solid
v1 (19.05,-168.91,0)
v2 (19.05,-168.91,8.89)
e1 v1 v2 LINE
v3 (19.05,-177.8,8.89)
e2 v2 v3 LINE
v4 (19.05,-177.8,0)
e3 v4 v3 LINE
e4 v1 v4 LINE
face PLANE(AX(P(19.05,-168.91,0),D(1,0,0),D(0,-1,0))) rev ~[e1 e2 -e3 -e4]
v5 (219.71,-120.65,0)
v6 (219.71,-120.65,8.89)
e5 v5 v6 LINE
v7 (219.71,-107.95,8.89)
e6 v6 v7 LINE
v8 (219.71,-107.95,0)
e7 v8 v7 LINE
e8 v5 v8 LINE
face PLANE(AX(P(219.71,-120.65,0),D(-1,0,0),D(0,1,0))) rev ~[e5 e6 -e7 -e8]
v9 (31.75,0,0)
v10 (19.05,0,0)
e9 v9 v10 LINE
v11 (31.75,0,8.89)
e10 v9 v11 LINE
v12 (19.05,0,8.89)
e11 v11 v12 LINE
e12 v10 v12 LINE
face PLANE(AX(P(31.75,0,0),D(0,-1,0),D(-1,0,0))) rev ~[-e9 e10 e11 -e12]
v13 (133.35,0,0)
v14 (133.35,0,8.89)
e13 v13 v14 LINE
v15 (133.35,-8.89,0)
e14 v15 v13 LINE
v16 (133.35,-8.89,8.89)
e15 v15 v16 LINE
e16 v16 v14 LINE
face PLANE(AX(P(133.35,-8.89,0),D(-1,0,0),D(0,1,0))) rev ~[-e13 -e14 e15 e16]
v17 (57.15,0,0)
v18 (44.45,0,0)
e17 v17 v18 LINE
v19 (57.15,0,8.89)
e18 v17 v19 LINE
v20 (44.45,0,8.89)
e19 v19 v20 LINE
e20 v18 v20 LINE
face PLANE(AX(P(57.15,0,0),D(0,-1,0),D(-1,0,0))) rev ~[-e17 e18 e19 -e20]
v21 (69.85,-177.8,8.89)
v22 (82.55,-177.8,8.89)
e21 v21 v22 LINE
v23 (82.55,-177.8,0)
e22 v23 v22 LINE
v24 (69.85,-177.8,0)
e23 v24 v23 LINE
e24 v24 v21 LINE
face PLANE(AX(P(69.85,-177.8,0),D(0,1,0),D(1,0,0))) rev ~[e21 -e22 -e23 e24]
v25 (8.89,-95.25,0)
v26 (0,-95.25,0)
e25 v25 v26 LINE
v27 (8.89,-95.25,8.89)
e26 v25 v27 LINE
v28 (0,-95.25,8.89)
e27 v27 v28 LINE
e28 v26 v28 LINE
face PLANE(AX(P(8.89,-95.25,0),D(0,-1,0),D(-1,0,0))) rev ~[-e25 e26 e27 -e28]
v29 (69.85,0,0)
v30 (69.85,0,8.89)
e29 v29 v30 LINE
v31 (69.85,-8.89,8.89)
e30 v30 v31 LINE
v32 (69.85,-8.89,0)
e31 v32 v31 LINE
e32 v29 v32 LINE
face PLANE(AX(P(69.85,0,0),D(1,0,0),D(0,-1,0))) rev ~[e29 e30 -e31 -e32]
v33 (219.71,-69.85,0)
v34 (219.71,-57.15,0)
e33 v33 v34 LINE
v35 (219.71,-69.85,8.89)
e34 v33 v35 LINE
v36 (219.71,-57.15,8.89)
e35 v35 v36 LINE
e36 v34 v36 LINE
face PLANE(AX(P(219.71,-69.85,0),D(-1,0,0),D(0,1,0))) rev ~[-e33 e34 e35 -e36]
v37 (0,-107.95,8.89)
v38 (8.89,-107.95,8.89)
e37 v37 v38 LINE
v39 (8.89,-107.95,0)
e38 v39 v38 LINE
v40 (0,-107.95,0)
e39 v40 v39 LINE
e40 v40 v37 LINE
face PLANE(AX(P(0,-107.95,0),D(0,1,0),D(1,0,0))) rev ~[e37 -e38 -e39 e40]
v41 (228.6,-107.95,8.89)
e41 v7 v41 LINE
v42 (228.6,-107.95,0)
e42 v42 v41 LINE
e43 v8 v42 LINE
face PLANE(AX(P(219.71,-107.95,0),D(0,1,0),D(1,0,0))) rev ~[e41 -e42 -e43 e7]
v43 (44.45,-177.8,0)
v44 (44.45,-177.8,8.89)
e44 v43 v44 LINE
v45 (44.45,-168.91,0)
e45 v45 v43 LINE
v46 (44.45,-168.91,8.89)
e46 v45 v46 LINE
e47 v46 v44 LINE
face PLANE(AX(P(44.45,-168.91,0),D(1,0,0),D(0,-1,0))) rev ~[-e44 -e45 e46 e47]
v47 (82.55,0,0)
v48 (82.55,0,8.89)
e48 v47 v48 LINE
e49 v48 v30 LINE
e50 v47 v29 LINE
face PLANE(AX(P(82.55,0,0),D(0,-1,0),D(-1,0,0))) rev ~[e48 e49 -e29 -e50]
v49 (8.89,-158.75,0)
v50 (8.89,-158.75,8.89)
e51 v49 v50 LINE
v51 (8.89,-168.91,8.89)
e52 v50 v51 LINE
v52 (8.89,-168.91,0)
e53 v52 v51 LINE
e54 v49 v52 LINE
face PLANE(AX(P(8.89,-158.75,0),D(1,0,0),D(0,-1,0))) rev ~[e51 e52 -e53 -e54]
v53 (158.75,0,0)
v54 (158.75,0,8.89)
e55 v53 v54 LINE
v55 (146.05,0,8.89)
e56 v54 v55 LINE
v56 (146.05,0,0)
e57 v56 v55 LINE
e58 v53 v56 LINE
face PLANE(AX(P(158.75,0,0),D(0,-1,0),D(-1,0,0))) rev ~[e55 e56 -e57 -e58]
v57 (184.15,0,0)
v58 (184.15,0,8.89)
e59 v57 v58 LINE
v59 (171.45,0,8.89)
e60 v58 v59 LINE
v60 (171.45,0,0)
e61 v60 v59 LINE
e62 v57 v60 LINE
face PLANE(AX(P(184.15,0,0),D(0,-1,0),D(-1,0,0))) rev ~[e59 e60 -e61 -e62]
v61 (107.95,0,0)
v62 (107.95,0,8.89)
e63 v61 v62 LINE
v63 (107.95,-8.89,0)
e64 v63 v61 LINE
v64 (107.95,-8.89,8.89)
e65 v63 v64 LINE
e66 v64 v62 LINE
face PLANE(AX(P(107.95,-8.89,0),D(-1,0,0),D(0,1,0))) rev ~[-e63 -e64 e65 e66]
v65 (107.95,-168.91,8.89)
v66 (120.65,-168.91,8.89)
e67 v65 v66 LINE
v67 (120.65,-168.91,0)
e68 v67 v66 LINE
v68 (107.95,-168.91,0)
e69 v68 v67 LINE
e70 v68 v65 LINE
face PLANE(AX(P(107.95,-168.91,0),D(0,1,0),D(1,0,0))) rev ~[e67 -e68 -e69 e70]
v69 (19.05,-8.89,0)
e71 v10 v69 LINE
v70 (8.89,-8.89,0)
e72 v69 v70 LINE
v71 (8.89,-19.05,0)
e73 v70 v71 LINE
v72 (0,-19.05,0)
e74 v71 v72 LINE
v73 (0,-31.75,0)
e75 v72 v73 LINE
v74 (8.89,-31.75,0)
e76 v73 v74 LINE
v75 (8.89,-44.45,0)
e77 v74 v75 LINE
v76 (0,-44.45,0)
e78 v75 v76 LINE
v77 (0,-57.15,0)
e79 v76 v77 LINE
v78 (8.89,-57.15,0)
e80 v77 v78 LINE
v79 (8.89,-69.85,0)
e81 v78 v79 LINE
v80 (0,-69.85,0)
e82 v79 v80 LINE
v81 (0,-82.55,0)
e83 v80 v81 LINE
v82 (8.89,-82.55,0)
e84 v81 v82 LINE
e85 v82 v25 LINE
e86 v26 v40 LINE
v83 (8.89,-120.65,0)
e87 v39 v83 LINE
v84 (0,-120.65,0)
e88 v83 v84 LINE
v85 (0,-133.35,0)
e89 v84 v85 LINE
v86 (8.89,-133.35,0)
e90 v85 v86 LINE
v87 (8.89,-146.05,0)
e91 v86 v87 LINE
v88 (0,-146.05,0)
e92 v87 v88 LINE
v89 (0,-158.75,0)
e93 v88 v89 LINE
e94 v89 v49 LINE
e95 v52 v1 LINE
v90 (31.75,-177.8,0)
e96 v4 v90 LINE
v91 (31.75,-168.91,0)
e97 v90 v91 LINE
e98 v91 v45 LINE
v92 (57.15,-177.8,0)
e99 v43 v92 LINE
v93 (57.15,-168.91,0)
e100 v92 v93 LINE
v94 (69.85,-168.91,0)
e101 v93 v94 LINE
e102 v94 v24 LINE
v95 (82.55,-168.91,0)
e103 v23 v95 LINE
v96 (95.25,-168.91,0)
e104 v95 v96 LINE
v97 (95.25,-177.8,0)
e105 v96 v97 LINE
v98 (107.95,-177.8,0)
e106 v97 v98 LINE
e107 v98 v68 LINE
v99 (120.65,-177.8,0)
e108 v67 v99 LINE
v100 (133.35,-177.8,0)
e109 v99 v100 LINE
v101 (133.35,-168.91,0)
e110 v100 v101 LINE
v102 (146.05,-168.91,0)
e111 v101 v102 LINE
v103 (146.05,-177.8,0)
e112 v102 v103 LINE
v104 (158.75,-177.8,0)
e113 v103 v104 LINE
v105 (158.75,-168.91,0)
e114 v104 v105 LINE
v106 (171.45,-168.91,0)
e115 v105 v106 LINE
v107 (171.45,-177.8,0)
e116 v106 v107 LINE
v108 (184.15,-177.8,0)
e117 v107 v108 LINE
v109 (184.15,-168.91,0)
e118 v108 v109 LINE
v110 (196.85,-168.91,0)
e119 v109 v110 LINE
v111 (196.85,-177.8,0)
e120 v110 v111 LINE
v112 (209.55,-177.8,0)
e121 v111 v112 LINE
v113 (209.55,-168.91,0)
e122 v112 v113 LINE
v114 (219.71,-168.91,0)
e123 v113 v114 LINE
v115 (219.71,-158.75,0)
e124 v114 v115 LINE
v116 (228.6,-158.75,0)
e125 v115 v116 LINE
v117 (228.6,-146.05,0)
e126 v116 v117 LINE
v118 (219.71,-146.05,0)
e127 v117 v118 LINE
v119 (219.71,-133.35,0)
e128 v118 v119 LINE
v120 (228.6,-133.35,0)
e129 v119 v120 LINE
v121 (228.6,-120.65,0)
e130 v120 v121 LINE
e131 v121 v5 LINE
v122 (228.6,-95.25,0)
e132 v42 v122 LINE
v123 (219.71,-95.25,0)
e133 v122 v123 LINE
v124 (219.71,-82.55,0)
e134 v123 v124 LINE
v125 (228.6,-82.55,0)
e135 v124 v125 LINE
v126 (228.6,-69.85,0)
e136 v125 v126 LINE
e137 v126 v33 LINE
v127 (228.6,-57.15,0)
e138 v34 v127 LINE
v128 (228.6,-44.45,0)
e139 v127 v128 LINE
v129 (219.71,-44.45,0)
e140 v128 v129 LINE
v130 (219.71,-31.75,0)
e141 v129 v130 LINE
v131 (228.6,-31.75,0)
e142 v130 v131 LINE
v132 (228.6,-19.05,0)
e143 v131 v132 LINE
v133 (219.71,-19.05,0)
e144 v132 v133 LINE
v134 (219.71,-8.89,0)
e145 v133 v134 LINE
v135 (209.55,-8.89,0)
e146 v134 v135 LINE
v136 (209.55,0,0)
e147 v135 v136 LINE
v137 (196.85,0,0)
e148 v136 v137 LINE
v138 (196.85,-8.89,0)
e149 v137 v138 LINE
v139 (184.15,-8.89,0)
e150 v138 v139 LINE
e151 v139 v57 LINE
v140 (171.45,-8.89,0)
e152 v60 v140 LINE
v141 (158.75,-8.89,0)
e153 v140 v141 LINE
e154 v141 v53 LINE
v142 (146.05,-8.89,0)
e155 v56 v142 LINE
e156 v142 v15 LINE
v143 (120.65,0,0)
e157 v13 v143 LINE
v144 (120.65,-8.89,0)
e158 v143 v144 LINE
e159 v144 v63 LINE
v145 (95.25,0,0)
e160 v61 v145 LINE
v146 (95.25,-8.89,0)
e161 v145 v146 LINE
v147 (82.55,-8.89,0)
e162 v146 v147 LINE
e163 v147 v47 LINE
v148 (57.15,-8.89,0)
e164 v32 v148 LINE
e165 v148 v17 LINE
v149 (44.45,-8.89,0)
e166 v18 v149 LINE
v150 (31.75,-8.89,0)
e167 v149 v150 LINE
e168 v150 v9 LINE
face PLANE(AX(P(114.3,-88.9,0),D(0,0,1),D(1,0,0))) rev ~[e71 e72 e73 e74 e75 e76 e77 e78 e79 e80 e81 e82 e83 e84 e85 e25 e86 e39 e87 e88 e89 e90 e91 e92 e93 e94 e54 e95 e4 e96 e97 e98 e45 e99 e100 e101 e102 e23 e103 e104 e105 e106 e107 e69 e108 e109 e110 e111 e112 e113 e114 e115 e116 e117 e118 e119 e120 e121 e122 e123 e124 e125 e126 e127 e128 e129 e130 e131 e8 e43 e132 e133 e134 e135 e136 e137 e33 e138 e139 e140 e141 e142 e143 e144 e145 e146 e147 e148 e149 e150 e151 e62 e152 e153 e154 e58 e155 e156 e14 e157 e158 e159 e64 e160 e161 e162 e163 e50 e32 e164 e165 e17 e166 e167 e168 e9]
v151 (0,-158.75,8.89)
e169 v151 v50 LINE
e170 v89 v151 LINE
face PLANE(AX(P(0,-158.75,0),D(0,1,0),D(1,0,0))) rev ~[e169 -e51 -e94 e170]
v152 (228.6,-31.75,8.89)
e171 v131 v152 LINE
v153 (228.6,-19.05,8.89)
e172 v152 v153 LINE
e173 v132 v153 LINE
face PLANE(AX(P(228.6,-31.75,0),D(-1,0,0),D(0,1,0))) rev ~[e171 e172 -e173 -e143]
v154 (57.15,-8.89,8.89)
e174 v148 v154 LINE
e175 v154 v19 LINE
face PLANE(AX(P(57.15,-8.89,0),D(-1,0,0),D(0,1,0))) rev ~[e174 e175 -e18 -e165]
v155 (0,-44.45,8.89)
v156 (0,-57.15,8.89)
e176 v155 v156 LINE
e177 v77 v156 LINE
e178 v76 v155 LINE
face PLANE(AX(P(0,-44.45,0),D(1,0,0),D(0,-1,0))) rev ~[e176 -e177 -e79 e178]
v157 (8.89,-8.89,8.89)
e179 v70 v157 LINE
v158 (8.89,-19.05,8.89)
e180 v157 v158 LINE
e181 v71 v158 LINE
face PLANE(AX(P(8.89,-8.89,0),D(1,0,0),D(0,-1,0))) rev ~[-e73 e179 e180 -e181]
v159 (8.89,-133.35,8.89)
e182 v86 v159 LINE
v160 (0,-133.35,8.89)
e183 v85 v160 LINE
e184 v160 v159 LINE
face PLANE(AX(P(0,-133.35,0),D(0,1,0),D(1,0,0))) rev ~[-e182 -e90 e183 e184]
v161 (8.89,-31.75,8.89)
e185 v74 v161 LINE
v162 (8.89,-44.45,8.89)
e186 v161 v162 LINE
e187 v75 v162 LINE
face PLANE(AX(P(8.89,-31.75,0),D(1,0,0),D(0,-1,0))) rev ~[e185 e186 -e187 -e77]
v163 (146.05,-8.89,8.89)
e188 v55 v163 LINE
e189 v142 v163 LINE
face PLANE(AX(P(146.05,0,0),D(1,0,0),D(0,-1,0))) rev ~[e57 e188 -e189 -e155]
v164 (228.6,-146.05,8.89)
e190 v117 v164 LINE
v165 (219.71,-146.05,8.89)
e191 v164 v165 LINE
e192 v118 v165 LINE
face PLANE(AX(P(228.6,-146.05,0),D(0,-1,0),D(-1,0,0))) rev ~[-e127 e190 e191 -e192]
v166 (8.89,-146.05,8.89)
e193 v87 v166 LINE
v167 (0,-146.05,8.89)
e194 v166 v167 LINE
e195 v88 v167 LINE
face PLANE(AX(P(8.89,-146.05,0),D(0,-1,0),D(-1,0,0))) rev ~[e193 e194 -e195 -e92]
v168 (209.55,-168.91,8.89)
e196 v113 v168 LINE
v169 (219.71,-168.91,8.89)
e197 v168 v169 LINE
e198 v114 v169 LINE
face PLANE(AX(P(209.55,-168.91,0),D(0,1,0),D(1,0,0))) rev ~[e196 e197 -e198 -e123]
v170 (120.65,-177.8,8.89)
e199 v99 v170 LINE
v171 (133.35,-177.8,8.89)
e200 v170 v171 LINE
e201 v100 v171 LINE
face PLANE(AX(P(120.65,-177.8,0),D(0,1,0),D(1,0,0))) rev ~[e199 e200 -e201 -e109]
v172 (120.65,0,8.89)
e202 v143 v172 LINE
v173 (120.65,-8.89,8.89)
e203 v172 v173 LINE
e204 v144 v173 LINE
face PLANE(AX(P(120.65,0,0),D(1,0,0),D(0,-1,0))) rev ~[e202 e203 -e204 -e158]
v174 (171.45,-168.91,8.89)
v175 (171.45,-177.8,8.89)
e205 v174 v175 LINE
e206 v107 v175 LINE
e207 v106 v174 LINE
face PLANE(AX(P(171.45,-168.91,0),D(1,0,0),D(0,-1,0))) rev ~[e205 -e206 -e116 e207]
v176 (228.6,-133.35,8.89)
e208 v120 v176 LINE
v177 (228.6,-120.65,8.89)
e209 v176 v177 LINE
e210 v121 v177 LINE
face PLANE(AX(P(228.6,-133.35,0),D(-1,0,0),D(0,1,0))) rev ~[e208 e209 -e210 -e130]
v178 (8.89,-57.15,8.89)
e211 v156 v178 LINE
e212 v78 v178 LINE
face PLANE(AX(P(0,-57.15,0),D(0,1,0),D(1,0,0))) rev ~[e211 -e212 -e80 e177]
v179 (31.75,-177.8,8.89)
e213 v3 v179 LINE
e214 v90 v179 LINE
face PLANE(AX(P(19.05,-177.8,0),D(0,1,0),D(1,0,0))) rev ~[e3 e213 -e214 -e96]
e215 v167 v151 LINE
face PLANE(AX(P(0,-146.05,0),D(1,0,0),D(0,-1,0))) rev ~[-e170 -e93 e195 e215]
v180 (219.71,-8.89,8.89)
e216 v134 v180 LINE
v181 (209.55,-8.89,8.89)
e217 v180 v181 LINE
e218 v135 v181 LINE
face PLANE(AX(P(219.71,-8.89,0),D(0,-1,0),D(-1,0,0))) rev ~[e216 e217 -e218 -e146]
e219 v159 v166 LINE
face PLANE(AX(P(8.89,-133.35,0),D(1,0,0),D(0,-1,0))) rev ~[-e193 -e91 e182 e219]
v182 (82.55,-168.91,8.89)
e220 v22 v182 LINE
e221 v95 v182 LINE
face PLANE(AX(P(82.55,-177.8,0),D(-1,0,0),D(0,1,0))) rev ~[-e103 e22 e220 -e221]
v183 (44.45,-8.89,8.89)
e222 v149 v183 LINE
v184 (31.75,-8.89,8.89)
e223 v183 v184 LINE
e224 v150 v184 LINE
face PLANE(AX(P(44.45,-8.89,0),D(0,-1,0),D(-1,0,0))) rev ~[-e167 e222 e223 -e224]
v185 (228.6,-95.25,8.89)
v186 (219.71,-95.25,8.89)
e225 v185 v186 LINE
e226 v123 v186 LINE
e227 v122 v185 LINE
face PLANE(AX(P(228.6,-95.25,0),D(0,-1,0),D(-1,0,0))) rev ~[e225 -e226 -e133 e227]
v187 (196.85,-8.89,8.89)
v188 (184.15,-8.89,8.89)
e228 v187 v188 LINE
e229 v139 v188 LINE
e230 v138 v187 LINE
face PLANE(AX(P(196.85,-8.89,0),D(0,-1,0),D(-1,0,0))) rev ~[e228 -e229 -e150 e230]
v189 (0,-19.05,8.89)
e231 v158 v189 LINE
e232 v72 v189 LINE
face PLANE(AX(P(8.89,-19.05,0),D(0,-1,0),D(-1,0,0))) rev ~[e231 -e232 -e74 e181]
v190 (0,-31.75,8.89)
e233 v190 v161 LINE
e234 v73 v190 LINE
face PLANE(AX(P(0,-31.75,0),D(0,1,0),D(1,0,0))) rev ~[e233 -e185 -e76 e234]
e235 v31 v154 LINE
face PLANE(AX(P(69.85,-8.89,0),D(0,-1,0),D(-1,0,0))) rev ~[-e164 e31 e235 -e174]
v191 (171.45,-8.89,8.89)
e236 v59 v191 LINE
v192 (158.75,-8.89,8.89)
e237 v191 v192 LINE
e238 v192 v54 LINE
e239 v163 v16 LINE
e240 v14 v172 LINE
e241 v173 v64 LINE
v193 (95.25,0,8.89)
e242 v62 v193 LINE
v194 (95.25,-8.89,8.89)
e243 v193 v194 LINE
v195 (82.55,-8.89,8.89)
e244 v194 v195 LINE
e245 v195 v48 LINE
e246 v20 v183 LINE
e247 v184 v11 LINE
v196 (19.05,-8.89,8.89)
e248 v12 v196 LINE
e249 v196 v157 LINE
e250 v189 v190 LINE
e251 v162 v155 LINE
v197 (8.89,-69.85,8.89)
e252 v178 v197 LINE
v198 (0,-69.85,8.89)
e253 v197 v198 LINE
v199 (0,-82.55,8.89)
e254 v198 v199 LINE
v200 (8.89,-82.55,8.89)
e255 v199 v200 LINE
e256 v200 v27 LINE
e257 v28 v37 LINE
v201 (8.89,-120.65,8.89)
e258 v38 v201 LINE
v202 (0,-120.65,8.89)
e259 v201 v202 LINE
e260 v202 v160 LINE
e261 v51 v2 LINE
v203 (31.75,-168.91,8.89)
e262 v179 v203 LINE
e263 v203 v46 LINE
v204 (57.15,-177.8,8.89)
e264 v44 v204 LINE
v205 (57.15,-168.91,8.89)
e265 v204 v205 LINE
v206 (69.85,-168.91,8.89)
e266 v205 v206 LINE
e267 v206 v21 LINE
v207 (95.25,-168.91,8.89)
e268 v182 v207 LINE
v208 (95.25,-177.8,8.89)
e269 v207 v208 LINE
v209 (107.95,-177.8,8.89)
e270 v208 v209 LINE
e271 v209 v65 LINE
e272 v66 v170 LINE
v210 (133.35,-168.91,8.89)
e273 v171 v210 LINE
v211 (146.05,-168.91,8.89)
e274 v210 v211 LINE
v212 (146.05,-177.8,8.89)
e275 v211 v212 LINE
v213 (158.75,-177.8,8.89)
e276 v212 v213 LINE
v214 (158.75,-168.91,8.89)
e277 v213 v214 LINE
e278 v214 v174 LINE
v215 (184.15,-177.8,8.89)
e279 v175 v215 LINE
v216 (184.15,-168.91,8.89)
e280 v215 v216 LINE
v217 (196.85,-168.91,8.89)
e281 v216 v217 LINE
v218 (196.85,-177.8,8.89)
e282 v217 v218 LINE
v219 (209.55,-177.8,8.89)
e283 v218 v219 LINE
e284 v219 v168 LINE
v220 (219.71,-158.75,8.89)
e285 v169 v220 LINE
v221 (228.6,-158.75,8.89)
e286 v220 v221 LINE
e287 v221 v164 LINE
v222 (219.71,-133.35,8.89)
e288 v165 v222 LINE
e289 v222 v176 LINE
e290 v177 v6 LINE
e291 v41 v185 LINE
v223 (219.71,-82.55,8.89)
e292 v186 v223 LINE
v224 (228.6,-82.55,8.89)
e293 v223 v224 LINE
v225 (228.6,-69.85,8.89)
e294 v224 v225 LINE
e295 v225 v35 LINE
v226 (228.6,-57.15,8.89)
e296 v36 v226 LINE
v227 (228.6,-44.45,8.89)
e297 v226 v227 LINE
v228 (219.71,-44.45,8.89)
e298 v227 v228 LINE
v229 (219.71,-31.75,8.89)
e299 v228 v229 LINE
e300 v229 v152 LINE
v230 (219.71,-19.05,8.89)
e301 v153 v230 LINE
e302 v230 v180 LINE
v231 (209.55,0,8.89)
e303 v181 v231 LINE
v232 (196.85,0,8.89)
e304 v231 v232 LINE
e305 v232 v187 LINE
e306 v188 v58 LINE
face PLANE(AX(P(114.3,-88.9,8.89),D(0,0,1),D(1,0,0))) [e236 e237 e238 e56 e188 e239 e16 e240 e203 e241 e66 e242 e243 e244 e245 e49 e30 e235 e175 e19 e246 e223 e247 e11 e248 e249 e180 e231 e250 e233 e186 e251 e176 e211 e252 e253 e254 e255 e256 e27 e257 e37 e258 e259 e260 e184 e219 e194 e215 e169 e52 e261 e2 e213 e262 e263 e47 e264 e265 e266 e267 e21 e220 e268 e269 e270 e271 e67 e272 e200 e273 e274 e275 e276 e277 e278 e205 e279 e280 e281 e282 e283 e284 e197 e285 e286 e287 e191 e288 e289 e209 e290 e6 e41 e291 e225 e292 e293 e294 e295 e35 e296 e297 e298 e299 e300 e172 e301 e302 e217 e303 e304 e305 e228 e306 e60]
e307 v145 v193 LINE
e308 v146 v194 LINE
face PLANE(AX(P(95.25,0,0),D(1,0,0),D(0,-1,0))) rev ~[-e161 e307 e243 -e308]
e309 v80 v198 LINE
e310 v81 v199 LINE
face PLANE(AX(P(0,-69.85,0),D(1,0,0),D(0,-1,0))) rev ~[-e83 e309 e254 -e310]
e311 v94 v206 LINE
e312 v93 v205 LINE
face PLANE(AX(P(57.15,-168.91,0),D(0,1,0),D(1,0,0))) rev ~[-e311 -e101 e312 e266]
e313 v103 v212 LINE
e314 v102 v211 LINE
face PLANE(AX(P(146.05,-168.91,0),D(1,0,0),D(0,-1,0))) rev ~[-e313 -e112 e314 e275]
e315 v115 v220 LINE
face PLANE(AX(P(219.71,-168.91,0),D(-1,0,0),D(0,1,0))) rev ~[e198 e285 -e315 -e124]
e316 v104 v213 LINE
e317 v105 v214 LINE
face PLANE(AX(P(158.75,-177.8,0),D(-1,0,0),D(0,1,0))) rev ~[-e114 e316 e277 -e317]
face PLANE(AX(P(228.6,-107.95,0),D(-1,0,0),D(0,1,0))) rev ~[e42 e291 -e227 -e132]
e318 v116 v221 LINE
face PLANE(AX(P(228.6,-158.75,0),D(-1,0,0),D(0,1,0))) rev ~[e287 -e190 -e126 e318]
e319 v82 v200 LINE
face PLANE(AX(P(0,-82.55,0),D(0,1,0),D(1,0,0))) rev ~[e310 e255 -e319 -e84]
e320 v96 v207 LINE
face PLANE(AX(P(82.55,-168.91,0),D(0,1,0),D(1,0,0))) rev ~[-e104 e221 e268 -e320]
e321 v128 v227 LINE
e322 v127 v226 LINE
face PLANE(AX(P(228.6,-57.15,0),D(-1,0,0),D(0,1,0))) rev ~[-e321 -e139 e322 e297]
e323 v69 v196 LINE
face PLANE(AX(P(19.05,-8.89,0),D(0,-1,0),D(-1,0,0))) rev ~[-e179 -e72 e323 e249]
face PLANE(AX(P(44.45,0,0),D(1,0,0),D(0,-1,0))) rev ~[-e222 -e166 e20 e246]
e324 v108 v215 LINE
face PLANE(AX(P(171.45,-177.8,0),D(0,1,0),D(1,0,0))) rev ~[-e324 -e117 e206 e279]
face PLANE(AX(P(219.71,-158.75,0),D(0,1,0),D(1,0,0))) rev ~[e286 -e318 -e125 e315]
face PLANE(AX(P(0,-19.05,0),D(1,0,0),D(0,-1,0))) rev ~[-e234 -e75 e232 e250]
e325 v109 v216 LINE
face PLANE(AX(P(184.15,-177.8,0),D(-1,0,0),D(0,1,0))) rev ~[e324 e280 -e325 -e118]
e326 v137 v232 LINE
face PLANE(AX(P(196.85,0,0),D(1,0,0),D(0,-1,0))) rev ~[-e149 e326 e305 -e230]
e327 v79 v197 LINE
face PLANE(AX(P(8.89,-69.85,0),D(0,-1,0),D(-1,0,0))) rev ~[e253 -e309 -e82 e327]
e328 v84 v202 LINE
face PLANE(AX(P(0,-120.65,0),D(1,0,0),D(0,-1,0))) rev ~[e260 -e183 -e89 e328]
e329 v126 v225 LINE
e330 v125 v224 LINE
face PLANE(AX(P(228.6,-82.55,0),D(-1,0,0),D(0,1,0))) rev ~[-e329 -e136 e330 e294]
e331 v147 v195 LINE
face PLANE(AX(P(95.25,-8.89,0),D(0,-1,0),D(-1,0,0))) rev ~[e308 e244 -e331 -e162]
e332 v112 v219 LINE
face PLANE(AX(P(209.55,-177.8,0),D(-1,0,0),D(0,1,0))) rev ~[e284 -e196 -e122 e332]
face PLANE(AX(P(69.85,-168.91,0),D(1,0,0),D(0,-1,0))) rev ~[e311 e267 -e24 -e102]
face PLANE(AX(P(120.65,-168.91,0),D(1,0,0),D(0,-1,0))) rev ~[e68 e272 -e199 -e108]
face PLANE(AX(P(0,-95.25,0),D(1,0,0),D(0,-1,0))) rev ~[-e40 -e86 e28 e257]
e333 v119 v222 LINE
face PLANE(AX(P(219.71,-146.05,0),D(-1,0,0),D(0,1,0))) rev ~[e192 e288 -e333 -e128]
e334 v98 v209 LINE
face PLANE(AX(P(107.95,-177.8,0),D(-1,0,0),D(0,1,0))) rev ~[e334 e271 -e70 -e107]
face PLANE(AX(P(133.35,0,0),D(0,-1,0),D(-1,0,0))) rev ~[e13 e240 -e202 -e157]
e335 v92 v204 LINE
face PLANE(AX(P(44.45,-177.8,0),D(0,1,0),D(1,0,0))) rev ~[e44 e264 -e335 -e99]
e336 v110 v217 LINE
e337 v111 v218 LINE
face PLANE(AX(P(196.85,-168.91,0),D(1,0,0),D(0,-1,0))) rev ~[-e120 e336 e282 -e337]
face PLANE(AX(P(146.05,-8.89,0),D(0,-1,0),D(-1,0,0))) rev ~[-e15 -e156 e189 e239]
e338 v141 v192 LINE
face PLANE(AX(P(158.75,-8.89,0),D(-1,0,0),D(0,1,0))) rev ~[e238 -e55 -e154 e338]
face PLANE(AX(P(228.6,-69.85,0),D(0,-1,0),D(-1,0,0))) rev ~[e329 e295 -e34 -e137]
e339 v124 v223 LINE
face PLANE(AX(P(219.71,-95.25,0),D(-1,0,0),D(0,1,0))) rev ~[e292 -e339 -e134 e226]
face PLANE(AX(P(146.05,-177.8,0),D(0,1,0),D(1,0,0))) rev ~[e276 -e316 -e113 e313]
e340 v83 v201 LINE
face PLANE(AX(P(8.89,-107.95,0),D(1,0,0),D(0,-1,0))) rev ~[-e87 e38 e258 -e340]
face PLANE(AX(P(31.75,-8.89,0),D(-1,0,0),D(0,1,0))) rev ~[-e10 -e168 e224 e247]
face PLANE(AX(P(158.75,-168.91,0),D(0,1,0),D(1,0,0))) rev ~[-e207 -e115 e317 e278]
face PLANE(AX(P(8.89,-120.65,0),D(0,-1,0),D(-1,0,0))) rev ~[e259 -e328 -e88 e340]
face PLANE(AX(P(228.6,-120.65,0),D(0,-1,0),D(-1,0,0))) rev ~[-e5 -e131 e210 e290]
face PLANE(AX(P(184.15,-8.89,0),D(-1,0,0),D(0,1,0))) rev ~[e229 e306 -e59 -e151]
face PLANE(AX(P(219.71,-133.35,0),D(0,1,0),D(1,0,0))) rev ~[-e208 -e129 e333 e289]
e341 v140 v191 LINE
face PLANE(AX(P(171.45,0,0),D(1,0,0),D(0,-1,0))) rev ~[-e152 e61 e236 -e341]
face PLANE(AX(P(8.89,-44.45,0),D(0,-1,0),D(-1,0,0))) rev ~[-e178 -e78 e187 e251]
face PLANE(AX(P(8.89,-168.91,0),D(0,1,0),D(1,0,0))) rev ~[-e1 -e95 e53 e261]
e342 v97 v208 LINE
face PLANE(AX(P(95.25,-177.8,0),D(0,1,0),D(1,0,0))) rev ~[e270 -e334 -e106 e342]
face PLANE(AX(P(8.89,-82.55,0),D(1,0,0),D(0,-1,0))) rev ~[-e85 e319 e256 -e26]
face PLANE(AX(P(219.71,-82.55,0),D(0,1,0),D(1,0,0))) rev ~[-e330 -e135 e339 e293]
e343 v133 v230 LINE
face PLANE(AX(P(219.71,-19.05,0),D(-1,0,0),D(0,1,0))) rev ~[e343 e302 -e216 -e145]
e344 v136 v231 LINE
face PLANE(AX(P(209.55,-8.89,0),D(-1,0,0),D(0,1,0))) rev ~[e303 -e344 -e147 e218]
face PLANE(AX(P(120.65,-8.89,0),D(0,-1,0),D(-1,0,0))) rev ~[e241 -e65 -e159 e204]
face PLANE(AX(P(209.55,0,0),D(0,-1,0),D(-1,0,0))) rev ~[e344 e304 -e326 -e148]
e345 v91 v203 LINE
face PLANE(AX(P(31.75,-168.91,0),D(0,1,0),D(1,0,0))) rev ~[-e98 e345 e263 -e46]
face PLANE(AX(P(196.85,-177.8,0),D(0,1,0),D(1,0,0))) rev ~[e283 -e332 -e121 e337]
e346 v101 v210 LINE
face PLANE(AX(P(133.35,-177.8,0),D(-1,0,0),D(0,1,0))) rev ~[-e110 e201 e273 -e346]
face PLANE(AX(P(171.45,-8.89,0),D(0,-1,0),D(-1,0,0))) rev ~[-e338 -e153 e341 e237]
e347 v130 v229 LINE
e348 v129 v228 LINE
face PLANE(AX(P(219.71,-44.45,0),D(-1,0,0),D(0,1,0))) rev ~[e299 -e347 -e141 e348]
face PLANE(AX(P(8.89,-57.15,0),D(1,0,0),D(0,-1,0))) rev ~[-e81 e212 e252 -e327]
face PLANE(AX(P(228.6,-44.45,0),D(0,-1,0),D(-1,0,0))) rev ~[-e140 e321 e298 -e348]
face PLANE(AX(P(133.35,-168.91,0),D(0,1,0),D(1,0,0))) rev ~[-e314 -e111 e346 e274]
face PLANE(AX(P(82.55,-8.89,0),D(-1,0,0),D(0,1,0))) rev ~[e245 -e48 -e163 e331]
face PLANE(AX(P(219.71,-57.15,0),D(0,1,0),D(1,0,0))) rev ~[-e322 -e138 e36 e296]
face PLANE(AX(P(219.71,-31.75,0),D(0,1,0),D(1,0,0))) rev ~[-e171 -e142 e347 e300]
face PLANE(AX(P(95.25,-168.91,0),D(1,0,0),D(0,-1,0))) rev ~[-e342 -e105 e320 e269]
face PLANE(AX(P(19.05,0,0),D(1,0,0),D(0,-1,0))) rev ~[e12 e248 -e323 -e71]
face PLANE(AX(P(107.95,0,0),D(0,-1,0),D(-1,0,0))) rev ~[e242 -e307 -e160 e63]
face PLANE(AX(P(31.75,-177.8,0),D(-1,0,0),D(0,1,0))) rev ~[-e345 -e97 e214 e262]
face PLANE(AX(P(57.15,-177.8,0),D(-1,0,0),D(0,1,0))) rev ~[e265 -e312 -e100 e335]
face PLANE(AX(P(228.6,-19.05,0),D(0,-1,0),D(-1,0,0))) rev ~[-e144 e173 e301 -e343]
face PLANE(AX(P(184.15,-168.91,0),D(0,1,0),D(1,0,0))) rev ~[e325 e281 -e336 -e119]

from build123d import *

# Parameters (mm, degrees)
F1_DEPTH = 8.89


with BuildPart() as f1:
    # F0 (on Top) → F1 (new body)
    with BuildSketch(Plane.XY):
        Polygon((31.75, 0), (19.05, 0), (19.05, -8.89), (8.89, -8.89), (8.89, -19.05), (0, -19.05), (0, -31.75), (8.89, -31.75), (8.89, -44.45), (0, -44.45), (0, -57.15), (8.89, -57.15), (8.89, -69.85), (0, -69.85), (0, -82.55), (8.89, -82.55), (8.89, -95.25), (0, -95.25), (0, -107.95), (8.89, -107.95), (8.89, -120.65), (0, -120.65), (0, -133.35), (8.89, -133.35), (8.89, -146.05), (0, -146.05), (0, -158.75), (8.89, -158.75), (8.89, -168.91), (19.05, -168.91), (19.05, -177.8), (31.75, -177.8), (31.75, -168.91), (44.45, -168.91), (44.45, -177.8), (57.15, -177.8), (57.15, -168.91), (69.85, -168.91), (69.85, -177.8), (82.55, -177.8), (82.55, -168.91), (95.25, -168.91), (95.25, -177.8), (107.95, -177.8), (107.95, -168.91), (120.65, -168.91), (120.65, -177.8), (133.35, -177.8), (133.35, -168.91), (146.05, -168.91), (146.05, -177.8), (158.75, -177.8), (158.75, -168.91), (171.45, -168.91), (171.45, -177.8), (184.15, -177.8), (184.15, -168.91), (196.85, -168.91), (196.85, -177.8), (209.55, -177.8), (209.55, -168.91), (219.71, -168.91), (219.71, -158.75), (228.6, -158.75), (228.6, -146.05), (219.71, -146.05), (219.71, -133.35), (228.6, -133.35), (228.6, -120.65), (219.71, -120.65), (219.71, -107.95), (228.6, -107.95), (228.6, -95.25), (219.71, -95.25), (219.71, -82.55), (228.6, -82.55), (228.6, -69.85), (219.71, -69.85), (219.71, -57.15), (228.6, -57.15), (228.6, -44.45), (219.71, -44.45), (219.71, -31.75), (228.6, -31.75), (228.6, -19.05), (219.71, -19.05), (219.71, -8.89), (209.55, -8.89), (209.55, 0), (196.85, 0), (196.85, -8.89), (184.15, -8.89), (184.15, 0), (171.45, 0), (171.45, -8.89), (158.75, -8.89), (158.75, 0), (146.05, 0), (146.05, -8.89), (133.35, -8.89), (133.35, 0), (120.65, 0), (120.65, -8.89), (107.95, -8.89), (107.95, 0), (95.25, 0), (95.25, -8.89), (82.55, -8.89), (82.55, 0), (69.85, 0), (69.85, -8.89), (57.15, -8.89), (57.15, 0), (44.45, 0), (44.45, -8.89), (31.75, -8.89), align=None)
    extrude(amount=F1_DEPTH)


solid = f1.part
